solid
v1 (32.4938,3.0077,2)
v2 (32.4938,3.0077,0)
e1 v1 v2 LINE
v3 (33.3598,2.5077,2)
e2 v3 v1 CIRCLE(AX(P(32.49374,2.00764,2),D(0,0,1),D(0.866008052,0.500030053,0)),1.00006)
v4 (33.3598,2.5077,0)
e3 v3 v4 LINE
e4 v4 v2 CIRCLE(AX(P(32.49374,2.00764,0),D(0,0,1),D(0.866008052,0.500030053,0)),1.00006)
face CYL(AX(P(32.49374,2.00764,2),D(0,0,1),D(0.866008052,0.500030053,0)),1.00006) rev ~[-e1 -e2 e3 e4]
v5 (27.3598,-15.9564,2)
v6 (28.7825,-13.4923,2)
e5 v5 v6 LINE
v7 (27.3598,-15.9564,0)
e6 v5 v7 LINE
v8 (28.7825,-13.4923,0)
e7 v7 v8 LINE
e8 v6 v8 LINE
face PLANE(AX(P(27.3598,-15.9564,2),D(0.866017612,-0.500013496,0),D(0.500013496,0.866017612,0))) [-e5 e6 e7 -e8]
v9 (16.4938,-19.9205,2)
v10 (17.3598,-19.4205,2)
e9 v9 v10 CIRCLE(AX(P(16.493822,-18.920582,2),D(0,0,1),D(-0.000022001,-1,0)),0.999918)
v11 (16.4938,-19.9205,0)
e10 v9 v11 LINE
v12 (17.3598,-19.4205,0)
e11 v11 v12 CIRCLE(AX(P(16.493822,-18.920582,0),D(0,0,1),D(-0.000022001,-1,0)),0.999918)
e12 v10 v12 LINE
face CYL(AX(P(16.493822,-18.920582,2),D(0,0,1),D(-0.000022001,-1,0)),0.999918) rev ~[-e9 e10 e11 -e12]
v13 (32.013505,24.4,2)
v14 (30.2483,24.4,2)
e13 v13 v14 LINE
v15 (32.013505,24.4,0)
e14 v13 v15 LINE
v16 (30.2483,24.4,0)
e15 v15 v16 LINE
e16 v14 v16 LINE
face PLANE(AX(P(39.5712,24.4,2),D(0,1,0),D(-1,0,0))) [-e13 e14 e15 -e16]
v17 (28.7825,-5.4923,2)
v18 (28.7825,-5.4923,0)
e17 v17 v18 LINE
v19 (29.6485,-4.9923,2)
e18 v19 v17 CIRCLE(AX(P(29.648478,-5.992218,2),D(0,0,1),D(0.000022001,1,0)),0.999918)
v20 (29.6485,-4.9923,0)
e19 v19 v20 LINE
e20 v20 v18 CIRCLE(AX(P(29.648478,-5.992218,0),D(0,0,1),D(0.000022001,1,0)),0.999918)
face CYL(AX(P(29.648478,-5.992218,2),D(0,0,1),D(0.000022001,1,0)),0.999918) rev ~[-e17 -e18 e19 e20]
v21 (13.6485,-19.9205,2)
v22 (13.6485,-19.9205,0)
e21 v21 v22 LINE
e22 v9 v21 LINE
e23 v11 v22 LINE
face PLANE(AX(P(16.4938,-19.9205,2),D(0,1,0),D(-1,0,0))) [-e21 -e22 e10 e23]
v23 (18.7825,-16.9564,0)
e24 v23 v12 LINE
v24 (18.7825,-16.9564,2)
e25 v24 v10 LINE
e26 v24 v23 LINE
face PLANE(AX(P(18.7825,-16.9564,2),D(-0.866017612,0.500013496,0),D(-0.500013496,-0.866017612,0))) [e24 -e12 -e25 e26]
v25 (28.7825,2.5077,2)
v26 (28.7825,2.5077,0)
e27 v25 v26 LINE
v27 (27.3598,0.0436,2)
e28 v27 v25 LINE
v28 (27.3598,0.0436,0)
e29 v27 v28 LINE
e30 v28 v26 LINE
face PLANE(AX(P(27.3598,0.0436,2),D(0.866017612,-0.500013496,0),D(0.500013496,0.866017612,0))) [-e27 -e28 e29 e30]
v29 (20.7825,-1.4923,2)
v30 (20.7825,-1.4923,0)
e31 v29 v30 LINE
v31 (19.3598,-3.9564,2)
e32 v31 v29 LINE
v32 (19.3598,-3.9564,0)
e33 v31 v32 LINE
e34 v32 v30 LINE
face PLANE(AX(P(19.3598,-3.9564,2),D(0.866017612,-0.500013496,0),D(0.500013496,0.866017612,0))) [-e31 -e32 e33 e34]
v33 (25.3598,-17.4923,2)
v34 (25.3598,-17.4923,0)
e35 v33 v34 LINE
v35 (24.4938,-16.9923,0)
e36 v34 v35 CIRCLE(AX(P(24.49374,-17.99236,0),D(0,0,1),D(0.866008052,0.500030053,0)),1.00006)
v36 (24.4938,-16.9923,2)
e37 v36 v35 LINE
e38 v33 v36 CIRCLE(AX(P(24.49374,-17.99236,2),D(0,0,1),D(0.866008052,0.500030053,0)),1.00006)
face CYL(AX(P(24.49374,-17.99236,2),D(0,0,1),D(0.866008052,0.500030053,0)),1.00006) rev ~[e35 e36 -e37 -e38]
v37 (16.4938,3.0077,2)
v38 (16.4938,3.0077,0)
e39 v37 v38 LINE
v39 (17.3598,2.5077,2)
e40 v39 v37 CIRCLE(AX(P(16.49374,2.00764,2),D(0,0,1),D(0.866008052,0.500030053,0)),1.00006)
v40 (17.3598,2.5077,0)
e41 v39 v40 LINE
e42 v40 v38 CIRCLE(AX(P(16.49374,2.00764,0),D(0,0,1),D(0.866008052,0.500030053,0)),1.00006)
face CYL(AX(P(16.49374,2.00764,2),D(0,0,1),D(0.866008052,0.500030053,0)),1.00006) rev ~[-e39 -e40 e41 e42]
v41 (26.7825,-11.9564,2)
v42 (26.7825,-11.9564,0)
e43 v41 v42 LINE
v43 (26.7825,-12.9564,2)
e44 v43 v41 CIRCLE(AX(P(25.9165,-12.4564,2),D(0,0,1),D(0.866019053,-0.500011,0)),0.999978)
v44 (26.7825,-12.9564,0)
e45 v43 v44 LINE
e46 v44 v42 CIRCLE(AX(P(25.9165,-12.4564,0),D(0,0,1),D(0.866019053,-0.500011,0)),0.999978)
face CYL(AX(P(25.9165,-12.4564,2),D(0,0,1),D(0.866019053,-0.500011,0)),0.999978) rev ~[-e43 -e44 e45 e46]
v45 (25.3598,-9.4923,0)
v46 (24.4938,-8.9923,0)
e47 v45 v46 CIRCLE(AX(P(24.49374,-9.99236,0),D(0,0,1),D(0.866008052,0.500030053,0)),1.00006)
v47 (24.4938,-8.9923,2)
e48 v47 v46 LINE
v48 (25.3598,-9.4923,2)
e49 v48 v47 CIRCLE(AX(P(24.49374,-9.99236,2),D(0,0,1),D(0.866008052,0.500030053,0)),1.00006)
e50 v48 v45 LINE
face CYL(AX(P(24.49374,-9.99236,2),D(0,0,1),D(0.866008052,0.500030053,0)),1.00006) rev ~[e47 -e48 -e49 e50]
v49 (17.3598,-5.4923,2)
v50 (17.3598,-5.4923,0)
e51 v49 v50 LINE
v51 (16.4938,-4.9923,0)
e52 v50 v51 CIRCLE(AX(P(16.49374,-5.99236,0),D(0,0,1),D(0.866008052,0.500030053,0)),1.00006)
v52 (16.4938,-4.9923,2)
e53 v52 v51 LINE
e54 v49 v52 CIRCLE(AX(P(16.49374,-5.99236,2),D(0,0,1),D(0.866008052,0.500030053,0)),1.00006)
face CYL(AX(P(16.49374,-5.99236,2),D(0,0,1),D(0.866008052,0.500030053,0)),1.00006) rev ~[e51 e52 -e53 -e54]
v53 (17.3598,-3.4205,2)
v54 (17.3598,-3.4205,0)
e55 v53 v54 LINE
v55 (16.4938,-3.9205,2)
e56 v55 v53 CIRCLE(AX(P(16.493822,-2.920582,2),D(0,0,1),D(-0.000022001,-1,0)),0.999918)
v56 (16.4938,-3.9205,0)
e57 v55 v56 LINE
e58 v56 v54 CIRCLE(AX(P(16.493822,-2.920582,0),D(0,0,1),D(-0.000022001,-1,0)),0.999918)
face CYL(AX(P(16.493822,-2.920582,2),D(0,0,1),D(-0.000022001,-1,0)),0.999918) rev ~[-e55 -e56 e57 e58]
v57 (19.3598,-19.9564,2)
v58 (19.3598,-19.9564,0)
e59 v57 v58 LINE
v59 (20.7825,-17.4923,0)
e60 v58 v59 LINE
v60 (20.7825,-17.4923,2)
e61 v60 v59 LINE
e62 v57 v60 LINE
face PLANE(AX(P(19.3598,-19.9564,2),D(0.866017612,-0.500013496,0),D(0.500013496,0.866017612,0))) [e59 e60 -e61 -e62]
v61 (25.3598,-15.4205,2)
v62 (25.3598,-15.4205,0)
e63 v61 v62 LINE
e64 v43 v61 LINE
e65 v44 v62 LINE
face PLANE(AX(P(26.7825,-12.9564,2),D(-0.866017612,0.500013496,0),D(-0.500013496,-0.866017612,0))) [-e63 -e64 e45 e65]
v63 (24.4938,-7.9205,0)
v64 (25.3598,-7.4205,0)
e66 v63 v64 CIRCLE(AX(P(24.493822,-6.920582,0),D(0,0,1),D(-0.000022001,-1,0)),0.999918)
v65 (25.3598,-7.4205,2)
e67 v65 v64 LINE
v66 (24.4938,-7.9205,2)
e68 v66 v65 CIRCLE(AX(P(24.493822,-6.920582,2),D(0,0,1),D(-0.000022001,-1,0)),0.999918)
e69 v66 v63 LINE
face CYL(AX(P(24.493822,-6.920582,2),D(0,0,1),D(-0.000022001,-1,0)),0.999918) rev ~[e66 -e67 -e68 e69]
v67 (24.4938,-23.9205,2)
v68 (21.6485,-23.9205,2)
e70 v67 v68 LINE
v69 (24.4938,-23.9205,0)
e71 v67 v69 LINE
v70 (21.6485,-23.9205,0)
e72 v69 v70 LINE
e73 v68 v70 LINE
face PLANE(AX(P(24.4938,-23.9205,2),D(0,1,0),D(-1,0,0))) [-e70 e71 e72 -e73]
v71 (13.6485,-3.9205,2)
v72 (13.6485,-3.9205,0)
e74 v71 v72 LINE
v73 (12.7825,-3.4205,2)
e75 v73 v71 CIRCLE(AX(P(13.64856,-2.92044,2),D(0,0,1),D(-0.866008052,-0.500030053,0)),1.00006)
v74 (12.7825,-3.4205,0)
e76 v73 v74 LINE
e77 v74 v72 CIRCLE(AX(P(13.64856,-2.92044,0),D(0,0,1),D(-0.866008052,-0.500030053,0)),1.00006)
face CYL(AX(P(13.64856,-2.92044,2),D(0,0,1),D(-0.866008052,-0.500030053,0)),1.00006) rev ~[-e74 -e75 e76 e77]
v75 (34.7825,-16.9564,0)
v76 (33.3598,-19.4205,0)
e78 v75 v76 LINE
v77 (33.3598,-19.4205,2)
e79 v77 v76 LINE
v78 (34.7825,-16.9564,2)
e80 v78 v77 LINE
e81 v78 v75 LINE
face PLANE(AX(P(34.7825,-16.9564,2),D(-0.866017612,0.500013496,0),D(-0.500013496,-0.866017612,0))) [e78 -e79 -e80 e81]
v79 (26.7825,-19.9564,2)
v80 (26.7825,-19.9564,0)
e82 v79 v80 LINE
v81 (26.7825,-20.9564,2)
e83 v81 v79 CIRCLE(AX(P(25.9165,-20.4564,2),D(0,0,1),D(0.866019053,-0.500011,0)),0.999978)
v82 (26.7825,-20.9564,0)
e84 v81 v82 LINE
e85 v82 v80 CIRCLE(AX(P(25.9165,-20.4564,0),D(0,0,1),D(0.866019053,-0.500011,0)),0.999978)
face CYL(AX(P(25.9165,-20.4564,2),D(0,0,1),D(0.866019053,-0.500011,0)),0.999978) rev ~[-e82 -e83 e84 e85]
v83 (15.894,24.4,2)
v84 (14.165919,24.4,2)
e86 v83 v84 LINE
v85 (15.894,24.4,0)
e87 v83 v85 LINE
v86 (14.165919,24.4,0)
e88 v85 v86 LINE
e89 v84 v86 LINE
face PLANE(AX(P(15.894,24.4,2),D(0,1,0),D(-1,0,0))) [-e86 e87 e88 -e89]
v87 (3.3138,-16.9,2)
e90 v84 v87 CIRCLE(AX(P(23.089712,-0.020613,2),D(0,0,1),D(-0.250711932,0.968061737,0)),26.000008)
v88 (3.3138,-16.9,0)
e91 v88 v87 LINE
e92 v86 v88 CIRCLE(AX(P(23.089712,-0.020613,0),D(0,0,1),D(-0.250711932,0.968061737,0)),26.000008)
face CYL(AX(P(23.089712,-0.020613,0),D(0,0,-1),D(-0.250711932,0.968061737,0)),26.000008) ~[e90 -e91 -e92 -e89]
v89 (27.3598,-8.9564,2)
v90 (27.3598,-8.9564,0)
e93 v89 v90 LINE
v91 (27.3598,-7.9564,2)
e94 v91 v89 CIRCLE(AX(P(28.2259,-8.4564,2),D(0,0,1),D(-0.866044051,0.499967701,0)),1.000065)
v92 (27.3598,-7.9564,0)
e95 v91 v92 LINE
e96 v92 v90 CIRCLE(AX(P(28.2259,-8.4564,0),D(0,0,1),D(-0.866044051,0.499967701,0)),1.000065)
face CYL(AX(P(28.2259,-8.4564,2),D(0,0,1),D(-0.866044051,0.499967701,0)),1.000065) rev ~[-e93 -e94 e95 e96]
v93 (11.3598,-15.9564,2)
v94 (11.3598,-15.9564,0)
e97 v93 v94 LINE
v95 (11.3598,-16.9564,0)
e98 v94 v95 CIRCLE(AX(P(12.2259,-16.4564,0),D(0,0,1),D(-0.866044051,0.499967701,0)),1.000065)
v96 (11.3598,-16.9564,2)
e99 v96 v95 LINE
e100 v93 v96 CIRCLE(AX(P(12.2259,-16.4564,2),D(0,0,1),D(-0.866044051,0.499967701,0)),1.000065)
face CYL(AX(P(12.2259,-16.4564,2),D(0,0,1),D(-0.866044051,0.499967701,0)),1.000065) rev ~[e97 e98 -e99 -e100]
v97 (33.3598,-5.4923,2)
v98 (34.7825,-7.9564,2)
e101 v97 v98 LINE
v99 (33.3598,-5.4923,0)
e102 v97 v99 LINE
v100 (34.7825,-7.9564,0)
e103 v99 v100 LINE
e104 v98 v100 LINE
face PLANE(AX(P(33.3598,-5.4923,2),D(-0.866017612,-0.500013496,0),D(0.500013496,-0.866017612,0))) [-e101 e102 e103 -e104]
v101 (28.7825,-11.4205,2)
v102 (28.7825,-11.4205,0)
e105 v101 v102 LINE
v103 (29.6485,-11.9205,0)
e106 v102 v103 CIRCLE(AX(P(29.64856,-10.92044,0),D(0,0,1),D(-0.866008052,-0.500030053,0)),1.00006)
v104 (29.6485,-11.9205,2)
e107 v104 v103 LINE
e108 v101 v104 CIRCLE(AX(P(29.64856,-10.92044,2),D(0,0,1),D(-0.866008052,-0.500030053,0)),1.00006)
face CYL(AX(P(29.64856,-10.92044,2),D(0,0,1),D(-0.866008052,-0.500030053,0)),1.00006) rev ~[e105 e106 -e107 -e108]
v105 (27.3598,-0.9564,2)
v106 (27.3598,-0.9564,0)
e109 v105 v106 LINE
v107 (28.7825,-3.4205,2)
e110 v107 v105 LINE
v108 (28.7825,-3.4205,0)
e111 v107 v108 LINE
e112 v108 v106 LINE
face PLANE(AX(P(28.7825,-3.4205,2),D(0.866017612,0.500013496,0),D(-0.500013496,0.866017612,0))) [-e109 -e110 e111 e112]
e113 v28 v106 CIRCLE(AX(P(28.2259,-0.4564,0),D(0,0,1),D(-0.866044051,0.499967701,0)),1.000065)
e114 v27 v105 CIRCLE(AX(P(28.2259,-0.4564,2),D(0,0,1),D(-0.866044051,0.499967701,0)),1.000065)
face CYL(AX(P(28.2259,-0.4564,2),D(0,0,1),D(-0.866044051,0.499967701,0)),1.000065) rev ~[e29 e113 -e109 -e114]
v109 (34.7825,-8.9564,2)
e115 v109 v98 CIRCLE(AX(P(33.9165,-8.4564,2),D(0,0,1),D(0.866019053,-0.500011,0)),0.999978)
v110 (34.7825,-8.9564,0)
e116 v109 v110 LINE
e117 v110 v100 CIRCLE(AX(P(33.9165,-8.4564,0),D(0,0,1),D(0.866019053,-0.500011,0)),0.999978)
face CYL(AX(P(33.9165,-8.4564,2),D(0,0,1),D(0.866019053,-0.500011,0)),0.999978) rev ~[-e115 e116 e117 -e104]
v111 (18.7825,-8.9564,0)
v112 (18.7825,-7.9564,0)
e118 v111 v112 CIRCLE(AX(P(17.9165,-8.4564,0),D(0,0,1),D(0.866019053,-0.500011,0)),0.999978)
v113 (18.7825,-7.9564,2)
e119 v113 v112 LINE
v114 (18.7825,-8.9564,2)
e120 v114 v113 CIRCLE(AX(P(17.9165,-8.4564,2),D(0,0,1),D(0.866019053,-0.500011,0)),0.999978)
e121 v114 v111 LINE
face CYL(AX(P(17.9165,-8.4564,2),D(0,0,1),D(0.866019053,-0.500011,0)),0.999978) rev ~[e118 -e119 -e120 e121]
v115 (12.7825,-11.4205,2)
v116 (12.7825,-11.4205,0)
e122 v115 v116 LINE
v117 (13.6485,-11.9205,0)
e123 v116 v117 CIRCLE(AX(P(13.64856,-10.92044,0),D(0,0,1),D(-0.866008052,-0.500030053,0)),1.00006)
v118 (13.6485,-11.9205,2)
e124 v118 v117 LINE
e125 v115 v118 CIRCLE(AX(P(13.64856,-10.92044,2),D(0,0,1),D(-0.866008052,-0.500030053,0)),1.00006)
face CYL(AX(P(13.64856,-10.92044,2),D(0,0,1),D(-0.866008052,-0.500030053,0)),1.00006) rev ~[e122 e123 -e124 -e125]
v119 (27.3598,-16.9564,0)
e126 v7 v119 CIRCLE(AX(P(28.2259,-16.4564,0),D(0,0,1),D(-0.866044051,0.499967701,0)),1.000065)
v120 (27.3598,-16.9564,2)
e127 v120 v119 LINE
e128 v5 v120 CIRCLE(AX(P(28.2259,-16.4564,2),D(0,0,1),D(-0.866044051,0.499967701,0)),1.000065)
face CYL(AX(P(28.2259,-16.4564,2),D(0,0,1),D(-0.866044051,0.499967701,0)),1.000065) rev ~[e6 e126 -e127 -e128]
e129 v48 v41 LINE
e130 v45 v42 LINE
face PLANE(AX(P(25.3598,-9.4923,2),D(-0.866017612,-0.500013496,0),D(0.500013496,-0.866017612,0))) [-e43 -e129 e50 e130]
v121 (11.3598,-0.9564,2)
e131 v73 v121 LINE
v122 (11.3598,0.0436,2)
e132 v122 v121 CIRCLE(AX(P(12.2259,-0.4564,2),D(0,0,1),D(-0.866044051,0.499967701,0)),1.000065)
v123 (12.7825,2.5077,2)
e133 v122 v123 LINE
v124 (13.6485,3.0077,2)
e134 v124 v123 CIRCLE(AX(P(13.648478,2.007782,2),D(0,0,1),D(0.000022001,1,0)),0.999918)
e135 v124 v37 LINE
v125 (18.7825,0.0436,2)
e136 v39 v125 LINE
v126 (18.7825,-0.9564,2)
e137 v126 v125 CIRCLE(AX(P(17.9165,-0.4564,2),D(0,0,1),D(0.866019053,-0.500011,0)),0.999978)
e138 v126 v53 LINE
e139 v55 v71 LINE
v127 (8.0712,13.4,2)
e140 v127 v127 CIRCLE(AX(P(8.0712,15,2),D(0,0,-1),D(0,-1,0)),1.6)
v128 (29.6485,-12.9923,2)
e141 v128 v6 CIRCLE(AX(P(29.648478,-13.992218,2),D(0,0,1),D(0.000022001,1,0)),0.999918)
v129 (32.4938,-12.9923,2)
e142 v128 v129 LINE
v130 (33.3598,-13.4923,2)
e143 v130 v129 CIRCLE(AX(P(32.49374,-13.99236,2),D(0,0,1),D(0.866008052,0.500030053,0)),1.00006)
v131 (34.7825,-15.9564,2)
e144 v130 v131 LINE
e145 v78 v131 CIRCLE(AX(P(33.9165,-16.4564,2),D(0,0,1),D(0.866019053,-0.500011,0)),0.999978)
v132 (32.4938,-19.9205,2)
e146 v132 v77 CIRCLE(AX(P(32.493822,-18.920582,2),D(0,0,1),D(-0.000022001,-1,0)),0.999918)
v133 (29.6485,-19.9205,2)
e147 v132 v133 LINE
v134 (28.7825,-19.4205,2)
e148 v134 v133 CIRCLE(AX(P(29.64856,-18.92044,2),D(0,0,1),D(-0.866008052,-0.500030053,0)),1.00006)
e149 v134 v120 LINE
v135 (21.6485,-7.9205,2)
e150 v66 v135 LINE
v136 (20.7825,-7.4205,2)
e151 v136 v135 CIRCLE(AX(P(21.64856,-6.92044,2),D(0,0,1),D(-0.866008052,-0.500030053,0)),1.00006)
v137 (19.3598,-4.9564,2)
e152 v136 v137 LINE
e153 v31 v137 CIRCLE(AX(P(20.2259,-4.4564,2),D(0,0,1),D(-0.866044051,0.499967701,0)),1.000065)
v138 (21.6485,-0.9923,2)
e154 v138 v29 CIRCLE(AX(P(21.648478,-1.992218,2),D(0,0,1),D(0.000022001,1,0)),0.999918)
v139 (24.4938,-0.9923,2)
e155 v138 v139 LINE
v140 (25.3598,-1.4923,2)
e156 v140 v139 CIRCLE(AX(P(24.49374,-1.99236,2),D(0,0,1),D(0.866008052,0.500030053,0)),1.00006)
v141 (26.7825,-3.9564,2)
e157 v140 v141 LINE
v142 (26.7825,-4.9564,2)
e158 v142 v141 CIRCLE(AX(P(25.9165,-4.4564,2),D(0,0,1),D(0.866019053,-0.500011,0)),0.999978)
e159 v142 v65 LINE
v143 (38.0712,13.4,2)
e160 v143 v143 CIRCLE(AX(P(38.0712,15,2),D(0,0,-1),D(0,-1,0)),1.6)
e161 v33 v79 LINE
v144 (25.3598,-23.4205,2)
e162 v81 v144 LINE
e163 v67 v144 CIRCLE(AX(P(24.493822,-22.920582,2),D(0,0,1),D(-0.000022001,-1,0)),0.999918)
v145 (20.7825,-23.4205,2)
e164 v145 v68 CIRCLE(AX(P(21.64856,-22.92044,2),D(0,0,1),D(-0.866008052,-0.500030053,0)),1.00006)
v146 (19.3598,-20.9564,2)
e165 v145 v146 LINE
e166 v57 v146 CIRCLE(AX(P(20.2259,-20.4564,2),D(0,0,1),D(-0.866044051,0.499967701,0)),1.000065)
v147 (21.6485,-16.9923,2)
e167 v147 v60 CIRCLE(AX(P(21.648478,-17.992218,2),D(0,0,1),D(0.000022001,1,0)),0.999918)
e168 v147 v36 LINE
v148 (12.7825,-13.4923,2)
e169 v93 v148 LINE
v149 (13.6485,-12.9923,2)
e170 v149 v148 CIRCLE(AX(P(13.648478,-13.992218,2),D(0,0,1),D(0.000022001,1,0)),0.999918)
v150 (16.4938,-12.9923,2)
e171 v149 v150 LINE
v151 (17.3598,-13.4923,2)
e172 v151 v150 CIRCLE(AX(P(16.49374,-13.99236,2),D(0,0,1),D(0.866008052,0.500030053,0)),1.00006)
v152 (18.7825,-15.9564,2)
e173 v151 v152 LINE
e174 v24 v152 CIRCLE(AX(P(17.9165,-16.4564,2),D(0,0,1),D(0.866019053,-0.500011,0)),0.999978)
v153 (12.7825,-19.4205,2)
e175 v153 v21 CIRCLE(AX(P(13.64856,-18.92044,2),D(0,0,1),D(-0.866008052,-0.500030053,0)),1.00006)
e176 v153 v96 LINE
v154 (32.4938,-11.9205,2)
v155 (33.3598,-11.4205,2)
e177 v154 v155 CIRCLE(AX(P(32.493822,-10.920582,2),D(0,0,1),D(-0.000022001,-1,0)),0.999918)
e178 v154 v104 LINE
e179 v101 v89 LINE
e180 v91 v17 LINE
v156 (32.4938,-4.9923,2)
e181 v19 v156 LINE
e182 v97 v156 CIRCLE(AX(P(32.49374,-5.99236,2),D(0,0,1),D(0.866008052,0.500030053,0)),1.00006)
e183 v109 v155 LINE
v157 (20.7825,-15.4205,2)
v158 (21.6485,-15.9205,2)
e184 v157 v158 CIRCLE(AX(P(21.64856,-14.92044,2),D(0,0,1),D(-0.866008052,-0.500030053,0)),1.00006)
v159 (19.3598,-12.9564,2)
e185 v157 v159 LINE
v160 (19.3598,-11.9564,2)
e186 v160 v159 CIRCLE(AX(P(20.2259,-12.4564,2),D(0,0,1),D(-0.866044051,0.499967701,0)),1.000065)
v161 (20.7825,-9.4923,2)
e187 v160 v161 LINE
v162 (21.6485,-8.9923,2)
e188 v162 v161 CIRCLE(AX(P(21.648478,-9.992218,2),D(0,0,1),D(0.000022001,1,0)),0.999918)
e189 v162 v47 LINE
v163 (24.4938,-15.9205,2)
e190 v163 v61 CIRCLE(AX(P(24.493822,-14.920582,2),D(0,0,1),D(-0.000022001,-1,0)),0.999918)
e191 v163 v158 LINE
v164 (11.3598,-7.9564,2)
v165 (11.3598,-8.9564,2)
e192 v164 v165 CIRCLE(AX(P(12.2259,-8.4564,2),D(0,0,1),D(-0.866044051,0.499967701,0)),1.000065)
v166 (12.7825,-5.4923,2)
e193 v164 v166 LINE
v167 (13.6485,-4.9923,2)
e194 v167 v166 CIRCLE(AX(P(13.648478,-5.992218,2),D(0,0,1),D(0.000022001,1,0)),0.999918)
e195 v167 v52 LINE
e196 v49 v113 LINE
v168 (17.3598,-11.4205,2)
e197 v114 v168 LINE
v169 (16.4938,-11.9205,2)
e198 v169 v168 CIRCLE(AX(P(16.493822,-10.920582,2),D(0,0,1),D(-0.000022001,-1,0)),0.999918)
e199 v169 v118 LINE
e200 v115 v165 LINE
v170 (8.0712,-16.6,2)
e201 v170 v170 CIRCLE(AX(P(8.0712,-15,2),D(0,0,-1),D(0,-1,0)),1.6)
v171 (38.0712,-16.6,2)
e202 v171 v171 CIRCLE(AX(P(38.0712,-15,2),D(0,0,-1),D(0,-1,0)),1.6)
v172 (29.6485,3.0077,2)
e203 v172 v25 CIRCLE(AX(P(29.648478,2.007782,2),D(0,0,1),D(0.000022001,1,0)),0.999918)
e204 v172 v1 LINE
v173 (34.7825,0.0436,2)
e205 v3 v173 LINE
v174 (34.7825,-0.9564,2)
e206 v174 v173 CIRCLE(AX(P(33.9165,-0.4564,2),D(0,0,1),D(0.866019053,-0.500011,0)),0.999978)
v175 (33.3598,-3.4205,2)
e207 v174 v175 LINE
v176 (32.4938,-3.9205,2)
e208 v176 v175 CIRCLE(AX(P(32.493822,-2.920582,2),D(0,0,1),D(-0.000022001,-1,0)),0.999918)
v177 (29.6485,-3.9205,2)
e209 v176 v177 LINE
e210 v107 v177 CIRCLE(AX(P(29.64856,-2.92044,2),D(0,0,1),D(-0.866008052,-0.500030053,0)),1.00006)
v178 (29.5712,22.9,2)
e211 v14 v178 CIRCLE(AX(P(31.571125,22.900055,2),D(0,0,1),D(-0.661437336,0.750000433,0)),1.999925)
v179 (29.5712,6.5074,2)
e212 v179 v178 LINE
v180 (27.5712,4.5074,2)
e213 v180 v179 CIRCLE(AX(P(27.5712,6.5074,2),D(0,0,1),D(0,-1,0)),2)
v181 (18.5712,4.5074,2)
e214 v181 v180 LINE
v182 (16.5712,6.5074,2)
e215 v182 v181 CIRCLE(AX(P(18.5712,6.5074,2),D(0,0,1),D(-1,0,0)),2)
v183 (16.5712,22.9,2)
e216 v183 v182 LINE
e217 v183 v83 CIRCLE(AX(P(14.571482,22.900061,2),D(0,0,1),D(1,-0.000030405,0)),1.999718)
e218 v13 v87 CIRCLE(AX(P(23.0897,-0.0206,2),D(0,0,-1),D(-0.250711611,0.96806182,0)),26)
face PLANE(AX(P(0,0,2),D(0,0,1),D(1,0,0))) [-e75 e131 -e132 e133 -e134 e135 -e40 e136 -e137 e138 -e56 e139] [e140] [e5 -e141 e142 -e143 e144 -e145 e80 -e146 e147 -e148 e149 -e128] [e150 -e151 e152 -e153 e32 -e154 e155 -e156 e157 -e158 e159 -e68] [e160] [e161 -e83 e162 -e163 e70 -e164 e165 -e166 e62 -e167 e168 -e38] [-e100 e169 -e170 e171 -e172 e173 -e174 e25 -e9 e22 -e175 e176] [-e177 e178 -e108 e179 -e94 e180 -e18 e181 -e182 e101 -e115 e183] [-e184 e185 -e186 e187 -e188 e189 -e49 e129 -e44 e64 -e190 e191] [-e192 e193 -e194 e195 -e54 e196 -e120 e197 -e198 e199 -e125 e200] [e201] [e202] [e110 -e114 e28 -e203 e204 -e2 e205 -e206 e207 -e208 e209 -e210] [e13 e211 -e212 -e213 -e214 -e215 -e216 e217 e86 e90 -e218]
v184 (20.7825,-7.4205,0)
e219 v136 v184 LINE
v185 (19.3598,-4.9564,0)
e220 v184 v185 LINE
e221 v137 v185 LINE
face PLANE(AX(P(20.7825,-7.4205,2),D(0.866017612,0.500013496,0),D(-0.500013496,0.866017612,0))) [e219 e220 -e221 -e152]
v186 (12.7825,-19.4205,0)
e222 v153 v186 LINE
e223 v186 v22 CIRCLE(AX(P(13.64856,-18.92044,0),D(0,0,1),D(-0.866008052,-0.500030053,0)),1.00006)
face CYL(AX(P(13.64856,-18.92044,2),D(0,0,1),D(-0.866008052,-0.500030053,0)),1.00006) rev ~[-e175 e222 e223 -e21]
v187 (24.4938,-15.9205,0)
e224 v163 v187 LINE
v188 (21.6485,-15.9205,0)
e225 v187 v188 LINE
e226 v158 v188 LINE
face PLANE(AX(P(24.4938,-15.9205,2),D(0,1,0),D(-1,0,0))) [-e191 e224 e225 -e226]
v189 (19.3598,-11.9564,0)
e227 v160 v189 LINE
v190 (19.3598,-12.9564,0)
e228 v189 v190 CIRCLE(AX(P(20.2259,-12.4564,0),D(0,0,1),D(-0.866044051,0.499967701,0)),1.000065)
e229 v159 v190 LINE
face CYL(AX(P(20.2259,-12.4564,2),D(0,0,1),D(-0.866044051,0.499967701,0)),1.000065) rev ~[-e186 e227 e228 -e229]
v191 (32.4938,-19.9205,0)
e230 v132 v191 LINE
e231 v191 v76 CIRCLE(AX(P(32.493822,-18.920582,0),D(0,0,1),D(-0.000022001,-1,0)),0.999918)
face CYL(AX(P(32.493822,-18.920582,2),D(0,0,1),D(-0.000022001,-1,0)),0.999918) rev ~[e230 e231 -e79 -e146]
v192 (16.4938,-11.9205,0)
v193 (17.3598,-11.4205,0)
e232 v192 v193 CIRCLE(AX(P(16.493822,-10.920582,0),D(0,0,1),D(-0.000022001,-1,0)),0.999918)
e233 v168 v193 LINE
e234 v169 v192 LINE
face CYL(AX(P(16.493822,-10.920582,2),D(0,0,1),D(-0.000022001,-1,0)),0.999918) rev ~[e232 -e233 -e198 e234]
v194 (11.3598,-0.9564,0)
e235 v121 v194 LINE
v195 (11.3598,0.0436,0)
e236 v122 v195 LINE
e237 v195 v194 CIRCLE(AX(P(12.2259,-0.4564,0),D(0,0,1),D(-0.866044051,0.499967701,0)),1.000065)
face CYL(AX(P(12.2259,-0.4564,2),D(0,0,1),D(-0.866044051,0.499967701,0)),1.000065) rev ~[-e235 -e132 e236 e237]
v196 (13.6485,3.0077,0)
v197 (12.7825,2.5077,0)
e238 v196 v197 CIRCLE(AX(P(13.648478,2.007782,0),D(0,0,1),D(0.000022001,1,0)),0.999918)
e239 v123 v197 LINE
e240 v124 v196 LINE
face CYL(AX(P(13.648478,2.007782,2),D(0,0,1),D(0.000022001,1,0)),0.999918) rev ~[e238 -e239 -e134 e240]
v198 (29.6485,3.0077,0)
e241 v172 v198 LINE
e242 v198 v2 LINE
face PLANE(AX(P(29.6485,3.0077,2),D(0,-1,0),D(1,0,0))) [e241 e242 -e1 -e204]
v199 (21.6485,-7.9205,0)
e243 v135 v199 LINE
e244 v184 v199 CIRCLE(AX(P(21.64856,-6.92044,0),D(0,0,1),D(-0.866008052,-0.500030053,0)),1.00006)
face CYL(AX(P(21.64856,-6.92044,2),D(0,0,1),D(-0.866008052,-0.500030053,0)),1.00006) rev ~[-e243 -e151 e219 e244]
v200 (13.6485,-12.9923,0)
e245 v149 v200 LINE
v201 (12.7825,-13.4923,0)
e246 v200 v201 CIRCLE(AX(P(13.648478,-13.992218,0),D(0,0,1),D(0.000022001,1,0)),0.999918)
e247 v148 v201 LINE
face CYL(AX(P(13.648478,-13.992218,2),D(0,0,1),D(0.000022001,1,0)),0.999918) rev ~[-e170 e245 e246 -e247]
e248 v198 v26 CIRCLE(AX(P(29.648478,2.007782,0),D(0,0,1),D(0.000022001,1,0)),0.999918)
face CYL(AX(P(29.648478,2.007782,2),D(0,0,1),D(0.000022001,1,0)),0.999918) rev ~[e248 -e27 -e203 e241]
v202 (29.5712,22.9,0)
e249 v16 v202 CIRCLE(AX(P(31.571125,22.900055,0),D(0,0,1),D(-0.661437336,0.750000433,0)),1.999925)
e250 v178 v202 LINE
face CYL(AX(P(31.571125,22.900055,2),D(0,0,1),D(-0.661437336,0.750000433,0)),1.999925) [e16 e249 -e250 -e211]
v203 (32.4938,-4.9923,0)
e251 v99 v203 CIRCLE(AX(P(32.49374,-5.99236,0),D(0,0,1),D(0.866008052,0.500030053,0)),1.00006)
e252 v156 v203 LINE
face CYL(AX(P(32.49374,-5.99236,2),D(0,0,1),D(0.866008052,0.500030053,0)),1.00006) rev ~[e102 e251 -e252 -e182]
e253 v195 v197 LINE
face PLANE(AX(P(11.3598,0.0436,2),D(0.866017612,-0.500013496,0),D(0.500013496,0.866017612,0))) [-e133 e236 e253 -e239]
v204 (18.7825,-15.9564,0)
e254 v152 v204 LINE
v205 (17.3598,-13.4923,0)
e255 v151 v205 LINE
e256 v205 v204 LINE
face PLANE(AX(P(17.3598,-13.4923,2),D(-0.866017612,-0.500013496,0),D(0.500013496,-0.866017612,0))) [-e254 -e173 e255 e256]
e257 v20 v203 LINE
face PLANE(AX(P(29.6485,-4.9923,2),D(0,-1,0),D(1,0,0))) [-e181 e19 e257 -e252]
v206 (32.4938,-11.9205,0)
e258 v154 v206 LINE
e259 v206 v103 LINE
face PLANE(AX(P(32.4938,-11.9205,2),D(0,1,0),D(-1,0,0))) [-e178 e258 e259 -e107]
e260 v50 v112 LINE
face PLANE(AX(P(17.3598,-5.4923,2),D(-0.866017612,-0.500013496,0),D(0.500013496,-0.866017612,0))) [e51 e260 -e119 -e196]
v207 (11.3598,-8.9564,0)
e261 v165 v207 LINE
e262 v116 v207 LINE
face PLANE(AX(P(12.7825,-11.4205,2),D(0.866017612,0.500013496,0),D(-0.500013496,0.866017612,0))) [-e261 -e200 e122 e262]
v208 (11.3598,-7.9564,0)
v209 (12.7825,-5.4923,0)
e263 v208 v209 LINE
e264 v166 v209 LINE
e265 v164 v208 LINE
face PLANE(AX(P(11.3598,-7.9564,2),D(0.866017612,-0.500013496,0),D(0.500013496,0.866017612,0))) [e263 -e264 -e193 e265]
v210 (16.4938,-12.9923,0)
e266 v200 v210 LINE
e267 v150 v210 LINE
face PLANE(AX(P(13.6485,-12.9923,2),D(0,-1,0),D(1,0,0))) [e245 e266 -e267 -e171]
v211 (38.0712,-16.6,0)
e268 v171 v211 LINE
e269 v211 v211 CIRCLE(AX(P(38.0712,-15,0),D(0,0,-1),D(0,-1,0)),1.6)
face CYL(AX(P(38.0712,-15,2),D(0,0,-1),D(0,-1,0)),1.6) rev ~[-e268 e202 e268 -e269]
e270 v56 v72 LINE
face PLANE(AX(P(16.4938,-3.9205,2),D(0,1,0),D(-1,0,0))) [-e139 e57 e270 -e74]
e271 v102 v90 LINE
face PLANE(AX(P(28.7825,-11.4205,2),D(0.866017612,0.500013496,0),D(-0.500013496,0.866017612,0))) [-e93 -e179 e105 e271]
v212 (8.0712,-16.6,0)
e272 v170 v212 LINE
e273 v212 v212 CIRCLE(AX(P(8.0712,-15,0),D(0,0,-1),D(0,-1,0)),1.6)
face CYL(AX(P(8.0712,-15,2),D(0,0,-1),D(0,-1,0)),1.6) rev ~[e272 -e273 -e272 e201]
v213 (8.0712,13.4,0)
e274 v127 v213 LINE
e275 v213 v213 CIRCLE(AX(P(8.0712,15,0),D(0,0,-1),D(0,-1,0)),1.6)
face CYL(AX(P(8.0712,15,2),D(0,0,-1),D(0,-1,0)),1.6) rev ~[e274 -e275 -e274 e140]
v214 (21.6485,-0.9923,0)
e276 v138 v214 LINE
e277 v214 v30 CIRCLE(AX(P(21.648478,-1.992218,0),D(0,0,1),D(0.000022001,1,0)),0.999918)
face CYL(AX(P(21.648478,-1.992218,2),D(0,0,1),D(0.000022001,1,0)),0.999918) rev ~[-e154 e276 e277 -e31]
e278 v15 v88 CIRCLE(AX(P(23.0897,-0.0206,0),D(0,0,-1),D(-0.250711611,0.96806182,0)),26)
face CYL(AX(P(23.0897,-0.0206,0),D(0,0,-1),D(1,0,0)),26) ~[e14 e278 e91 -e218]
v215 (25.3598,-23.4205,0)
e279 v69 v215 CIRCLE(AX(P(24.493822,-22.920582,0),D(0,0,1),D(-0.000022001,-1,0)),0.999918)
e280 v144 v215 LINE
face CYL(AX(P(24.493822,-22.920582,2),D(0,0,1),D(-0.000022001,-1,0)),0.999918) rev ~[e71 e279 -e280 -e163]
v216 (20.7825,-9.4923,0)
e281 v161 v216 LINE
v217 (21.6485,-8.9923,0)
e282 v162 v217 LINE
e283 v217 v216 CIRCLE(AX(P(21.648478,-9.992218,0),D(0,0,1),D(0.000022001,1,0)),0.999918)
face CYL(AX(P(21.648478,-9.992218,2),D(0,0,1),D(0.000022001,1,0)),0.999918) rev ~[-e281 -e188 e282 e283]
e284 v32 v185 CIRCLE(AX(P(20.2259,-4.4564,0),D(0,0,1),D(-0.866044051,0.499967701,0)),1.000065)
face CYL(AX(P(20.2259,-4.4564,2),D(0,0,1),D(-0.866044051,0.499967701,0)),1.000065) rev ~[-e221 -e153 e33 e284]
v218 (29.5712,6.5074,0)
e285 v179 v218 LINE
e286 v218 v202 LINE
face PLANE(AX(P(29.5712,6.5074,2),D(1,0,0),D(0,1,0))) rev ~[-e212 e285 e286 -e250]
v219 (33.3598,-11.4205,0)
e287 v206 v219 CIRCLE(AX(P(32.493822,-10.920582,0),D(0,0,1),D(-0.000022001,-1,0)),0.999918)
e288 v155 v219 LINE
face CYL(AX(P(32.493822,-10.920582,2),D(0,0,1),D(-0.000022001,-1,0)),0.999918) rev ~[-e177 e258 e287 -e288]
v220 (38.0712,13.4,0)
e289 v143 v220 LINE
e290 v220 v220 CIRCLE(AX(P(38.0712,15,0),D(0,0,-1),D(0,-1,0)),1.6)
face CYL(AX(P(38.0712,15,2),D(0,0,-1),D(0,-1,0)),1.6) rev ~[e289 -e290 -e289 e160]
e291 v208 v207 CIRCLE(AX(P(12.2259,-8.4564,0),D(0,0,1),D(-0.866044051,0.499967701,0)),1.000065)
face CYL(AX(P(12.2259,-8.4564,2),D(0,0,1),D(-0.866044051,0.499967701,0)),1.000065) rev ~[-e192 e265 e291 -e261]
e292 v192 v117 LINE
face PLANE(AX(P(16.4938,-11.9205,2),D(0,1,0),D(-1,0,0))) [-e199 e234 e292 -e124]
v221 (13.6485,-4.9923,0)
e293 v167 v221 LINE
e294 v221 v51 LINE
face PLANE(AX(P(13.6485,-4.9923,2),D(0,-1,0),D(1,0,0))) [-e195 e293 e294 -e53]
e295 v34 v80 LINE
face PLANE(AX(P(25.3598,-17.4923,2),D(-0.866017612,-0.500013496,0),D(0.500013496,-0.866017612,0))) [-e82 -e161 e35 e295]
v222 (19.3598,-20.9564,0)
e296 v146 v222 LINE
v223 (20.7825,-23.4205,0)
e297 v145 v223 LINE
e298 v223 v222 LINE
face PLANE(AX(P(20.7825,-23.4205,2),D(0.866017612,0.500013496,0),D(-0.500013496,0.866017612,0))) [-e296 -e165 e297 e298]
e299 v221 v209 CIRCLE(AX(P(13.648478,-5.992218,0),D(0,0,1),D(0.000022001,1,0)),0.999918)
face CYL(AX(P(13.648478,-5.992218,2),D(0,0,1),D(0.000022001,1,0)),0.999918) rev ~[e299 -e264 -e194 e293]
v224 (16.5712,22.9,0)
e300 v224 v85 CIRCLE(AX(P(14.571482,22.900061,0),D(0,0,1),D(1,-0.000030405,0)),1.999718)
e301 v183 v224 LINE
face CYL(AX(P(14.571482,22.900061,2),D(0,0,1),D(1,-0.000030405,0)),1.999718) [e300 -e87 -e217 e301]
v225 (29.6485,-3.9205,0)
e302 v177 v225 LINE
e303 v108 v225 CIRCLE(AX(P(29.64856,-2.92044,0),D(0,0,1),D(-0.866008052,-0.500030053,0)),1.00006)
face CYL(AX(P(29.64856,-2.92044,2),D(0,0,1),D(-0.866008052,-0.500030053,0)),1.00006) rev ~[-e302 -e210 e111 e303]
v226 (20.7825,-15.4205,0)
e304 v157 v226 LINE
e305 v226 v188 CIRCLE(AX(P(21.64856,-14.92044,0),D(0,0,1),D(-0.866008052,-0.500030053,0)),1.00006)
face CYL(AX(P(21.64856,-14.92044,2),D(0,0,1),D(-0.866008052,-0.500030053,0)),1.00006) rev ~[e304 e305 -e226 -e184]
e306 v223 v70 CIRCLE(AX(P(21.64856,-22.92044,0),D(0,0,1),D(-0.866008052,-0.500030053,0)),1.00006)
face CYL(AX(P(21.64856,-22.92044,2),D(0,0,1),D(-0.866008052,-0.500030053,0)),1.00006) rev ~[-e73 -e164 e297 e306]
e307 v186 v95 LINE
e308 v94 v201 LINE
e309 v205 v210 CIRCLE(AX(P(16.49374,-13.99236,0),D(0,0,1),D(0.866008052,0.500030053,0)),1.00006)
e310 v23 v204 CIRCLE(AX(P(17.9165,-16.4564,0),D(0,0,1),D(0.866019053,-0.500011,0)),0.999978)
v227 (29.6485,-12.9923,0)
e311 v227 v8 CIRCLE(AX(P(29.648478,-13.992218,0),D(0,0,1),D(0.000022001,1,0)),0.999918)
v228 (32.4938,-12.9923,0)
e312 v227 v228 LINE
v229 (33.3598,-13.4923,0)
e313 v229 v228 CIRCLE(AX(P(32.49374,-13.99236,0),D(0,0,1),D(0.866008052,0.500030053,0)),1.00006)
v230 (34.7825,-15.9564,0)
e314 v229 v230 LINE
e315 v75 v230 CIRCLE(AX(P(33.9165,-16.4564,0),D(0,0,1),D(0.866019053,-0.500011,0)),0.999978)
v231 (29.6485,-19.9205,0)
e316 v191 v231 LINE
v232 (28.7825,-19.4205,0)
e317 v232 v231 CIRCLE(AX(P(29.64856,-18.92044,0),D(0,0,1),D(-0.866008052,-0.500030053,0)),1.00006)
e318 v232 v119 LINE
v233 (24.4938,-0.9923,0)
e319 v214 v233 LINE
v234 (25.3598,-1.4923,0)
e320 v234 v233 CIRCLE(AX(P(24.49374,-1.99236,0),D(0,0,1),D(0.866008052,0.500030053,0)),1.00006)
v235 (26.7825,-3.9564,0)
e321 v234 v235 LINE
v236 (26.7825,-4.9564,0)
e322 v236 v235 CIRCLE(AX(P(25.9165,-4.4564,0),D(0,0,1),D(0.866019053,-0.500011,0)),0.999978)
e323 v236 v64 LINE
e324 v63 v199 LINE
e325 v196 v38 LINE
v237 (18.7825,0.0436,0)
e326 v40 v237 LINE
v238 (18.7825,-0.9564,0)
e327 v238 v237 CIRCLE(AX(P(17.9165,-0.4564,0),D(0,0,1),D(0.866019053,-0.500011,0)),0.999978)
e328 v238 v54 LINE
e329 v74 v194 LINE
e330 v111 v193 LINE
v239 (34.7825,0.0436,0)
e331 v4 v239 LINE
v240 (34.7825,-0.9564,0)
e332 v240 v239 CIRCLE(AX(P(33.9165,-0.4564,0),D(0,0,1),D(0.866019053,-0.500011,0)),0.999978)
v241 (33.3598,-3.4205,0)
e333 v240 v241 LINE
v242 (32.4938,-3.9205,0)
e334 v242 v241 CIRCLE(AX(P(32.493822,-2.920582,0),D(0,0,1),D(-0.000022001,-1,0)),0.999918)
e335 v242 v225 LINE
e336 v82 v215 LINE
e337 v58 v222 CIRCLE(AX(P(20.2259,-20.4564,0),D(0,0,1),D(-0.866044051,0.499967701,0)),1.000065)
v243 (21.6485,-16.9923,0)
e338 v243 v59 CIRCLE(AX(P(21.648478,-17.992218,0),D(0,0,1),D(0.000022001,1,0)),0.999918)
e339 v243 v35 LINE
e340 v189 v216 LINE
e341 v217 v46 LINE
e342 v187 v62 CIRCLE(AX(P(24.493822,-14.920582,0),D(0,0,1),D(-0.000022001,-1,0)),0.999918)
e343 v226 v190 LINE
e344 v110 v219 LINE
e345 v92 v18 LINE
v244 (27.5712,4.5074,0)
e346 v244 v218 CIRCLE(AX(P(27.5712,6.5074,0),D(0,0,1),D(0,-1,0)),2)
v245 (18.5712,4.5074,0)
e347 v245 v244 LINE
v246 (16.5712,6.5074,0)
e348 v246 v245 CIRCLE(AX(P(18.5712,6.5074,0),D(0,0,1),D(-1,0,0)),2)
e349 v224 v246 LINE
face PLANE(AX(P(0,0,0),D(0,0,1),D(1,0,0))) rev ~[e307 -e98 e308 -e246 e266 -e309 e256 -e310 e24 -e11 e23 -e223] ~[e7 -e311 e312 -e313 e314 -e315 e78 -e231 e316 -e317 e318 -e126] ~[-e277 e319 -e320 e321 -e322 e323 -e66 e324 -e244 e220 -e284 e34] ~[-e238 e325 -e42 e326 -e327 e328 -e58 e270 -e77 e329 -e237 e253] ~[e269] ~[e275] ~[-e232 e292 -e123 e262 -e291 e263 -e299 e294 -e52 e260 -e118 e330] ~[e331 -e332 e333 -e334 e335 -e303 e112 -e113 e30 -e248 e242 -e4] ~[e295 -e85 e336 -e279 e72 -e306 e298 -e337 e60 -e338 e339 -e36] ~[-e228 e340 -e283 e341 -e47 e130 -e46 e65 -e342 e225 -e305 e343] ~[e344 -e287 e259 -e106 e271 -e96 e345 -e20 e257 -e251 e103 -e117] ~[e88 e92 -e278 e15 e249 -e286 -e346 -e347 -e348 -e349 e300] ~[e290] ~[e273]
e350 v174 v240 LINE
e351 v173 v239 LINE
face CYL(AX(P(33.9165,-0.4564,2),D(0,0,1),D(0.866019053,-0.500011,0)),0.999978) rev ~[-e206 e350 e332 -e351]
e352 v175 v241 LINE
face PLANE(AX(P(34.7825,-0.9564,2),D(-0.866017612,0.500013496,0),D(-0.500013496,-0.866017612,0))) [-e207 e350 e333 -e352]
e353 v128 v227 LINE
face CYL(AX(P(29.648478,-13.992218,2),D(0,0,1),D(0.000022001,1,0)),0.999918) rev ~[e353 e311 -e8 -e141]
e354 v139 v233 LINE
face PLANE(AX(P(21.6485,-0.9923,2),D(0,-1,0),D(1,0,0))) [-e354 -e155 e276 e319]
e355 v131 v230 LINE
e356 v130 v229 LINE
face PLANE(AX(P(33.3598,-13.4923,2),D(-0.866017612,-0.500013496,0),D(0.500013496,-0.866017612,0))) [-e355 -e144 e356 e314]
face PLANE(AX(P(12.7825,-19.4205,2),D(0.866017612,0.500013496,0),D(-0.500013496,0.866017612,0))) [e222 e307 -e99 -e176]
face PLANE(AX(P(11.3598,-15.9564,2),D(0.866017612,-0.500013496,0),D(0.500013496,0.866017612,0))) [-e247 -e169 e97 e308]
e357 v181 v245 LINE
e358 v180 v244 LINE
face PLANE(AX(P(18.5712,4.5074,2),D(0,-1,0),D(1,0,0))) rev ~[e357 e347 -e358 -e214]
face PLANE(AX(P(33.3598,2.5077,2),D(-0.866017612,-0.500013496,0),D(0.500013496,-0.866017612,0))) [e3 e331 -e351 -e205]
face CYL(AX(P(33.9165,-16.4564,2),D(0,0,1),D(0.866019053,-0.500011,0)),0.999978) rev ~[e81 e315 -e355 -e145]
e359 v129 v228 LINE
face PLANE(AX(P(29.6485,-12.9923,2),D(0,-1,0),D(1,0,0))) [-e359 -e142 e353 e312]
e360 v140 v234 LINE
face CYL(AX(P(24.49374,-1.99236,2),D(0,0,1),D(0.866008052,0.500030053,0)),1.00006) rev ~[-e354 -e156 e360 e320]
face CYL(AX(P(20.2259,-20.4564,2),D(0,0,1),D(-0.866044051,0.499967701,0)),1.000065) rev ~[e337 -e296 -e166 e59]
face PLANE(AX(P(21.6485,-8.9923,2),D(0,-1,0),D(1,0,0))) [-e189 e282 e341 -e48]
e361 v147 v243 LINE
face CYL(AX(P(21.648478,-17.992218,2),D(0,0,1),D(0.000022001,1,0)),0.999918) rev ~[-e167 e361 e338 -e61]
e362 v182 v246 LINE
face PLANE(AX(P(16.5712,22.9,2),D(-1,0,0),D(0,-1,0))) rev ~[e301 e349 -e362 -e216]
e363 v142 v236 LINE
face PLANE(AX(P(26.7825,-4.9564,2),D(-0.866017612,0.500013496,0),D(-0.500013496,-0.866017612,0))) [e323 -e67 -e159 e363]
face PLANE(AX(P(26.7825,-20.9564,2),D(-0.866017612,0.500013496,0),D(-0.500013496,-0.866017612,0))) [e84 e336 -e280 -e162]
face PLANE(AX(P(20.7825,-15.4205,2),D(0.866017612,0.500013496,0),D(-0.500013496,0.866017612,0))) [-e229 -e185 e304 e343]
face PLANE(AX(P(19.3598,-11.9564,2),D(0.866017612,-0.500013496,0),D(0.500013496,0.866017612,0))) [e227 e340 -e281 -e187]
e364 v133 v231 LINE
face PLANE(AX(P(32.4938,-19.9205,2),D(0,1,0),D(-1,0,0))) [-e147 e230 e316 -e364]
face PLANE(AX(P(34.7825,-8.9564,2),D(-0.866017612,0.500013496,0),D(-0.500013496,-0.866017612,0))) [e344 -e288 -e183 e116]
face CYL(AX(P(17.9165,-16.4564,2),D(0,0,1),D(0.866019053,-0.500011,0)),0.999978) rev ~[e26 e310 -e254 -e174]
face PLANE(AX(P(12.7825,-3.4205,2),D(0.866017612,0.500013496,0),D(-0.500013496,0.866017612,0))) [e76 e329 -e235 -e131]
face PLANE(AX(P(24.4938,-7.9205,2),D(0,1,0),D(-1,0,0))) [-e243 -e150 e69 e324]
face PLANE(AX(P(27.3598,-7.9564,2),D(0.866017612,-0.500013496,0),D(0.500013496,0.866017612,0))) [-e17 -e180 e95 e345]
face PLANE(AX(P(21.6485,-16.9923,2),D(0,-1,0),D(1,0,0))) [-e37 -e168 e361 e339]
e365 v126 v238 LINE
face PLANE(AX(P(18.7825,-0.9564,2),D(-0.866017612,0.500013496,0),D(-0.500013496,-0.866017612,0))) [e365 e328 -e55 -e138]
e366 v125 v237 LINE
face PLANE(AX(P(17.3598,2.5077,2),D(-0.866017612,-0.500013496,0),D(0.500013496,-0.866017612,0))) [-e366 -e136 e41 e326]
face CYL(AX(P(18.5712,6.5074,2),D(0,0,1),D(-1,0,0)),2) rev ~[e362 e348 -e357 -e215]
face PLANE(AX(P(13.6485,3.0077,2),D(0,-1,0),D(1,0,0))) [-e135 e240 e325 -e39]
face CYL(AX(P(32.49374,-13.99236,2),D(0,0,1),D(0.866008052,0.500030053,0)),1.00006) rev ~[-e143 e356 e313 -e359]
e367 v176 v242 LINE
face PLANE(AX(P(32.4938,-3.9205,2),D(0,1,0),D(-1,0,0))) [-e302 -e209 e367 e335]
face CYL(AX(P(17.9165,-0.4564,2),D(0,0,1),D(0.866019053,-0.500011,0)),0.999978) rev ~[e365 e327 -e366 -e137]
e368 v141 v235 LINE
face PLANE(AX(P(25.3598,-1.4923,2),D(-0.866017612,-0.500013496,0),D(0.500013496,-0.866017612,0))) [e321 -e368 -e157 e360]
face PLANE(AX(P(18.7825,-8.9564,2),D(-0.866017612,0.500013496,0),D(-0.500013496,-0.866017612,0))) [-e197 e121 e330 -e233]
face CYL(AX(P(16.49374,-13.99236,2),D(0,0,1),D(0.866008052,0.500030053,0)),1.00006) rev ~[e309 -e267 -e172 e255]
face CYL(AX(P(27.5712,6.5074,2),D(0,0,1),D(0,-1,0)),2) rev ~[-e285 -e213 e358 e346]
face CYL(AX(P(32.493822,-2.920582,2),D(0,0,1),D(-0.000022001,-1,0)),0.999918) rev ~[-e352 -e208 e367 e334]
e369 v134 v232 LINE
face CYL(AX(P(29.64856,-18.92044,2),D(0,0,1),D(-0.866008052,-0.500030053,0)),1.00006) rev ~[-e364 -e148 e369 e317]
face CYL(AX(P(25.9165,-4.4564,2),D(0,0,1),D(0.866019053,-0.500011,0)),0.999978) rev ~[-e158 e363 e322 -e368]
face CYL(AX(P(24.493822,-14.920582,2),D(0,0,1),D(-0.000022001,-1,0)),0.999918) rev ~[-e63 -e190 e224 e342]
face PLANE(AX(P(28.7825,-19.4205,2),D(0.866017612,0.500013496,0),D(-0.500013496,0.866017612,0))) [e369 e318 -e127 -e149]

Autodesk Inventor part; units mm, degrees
ref_plane "YZ Plane" through (0, 0, 0) normal (1, 0, 0) x (0, 1, 0)
ref_plane "XZ Plane" through (0, 0, 0) normal (0, 1, 0) x (-1, 0, 0)
ref_plane "XY Plane" through (0, 0, 0) normal (0, 0, 1) x (1, 0, 0)
ref_plane "Arbeitsebene1" through (0, 0, 0) normal (0, 0, 1) x (1, 0, 0)
sketch "Skizze1" plane through (0, 0, 0) normal (0, 0, 1) x (1, 0, 0)
  line L0 (8.0712, 15) -> (38.0712, 15)
  line L1 (38.0712, 15) -> (38.0712, -15)
  line L2 (38.0712, -15) -> (8.0712, -15)
  line L3 (8.0712, -15) -> (8.0712, 15)
  line L4 (38.0712, 19) -> (8.0712, 19)
  line L5 (4.0712, 15) -> (4.0712, -15)
  line L6 (8.0712, -19) -> (38.0712, -19)
  line L7 (42.0712, -15) -> (42.0712, 15)
  arc A0 (8.0712, 19) -> (4.0712, 15) centre (8.0712, 15) ccw
  arc A1 (42.0712, 15) -> (38.0712, 19) centre (38.0712, 15) ccw
  arc A2 (38.0712, -19) -> (42.0712, -15) centre (38.0712, -15) ccw
  arc A3 (4.0712, -15) -> (8.0712, -19) centre (8.0712, -15) ccw
  line L8 (29.9712, -18.3074) -> (29.9712, -24.4) projected
  circle A4 centre (38.0712, -15) radius 1.4 projected
  circle A5 centre (38.0712, 15) radius 1.4 projected
  line L9 (39.5712, -24.4) -> (29.9712, -24.4) projected
  line L10 (39.5712, -21.1181) -> (39.5712, -24.4) projected
  line L11 (44.1893, -16.5) -> (39.5712, -21.1181) projected
  line L12 (47.4712, -16.5) -> (44.1893, -16.5) projected
  line L13 (47.4712, 16.5) -> (47.4712, -16.5) projected
  line L14 (44.1893, 16.5) -> (47.4712, 16.5) projected
  line L15 (39.5712, 21.1181) -> (44.1893, 16.5) projected
  line L16 (39.5712, 24.4) -> (39.5712, 21.1181) projected
  line L17 (31.5712, 24.4) -> (39.5712, 24.4) projected
  line L18 (31.5712, 4.0068) -> (31.5712, 24.4) projected
  arc A6 (32.7786, 1.7) -> (31.5712, 4.0068) centre (29.9712, 1.7) ccw projected
  line L19 (32.7786, 1.7) -> (32.7786, -15.5) projected
  arc A7 (29.9712, -18.3074) -> (32.7786, -15.5) centre (29.9712, -15.5) ccw projected
  arc A8 (16.5712, 25.149) -> (3.3138, -16.9) centre (23.0897, -0.0206) ccw
  circle A9 centre (23.0897, -0.0206) radius 26
  point P0 (0, 0)
  point P1 (36.5793, -24.4)
  point P2 (31.5712, 11.3758)
  point P3 (3.3138, -16.9)
  dimension "d0" = 4
  dimension "d1" = 4
extrude "Extrusion1" add sketch "Skizze1" along normal blind 2 contours L3 L2 L19 A7 L8 L6 A3 L5 A0 L4 L18 L0 | L0 L18 A6 L19 L2 L3 | L18 L4 A1 L7 A2 L6 L8 A7 L19 L2 A4 L1 A5 L0 | L0 A5 L1 A4 L2 L19 A6 L18 | A5 L1 L0 | L0 L1 A5 | L18 L17 A9 L13 L9 L8 L6 A2 L7 A1 L4 | L4 A0 L5 A3 L6 L8 L9 A9 A8 L17 L18 | A4 L1 L2 | L2 L1 A4 | A9 L13
ref_plane "Arbeitsebene2" through (0, 0, 0) normal (0, 0, 1) x (1, 0, 0)
sketch "Skizze2" plane through (0, 0, 2) normal (0, 0, 1) x (1, 0, 0)
  arc A0 (8.0712, 19) -> (4.0712, 15) centre (8.0712, 15) ccw projected
  line L0 (4.0712, 15) -> (4.0712, -15) projected
  arc A1 (4.0712, -15) -> (8.0712, -19) centre (8.0712, -15) ccw projected
  line L1 (8.0712, -19) -> (38.0712, -19) projected
  arc A2 (38.0712, -19) -> (42.0712, -15) centre (38.0712, -15) ccw projected
  line L2 (42.0712, -15) -> (42.0712, 15) projected
  arc A3 (42.0712, 15) -> (38.0712, 19) centre (38.0712, 15) ccw projected
  line L3 (38.0712, 19) -> (8.0712, 19) projected
  circle A4 centre (8.0712, 15) radius 1.4 projected
  circle A5 centre (38.0712, 15) radius 1.4 projected
  circle A6 centre (38.0712, -15) radius 1.4 projected
  circle A7 centre (8.0712, -15) radius 1.4 projected
  point P0 (0, 0)
hole "Bohrung1" at (8.0712, 15, 2) at (8.0712, -15, 2) at (38.0712, -15, 2) at (38.0712, 15, 2) direction (0, 0, -1) diameter 3.2 end through all
sketch "Skizze3" plane through (0, 0, 2) normal (0, 0, 1) x (1, 0, 0)
  circle A0 centre (23.0919, -0.0207) radius 4.25 projected
  arc A1 (30.2483, 24.4) -> (29.5712, 22.9) centre (31.5712, 22.9) ccw projected
  line L0 (39.5712, 24.4) -> (30.2483, 24.4) projected
  line L1 (39.5712, 21.1181) -> (39.5712, 24.4) projected
  line L2 (44.1893, 16.5) -> (39.5712, 21.1181) projected
  line L3 (47.4712, 16.5) -> (44.1893, 16.5) projected
  line L4 (47.4712, -16.5) -> (47.4712, 16.5) projected
  line L5 (44.1893, -16.5) -> (47.4712, -16.5) projected
  line L6 (39.5712, -21.1181) -> (44.1893, -16.5) projected
  line L7 (39.5712, -24.4) -> (39.5712, -21.1181) projected
  line L8 (6.6126, -24.4) -> (39.5712, -24.4) projected
  line L9 (6.6126, -21.1595) -> (6.6126, -24.4) projected
  line L10 (1.9531, -16.5) -> (6.6126, -21.1595) projected
  line L11 (-1.3288, -16.5) -> (1.9531, -16.5) projected
  line L12 (-1.3288, 16.5) -> (-1.3288, -16.5) projected
  line L13 (1.9531, 16.5) -> (-1.3288, 16.5) projected
  line L14 (6.5712, 21.1181) -> (1.9531, 16.5) projected
  line L15 (6.5712, 24.4) -> (6.5712, 21.1181) projected
  line L16 (15.894, 24.4) -> (6.5712, 24.4) projected
  arc A2 (16.5712, 22.9) -> (15.894, 24.4) centre (14.5712, 22.9) ccw projected
  line L17 (16.5712, 22.9) -> (16.5712, 6.5074) projected
  arc A3 (16.5712, 6.5074) -> (18.5712, 4.5074) centre (18.5712, 6.5074) ccw projected
  line L18 (18.5712, 4.5074) -> (27.5712, 4.5074) projected
  arc A4 (27.5712, 4.5074) -> (29.5712, 6.5074) centre (27.5712, 6.5074) ccw projected
  line L19 (29.5712, 6.5074) -> (29.5712, 22.9) projected
  circle A5 centre (38.0712, 15) radius 1.4 projected
  circle A6 centre (8.0712, -15) radius 1.4 projected
  circle A7 centre (38.0712, -15) radius 1.4 projected
  circle A8 centre (8.0712, 15) radius 1.4 projected
  line L20 (15.894, 24.4) -> (30.2483, 24.4)
  line L21 (6.5712, 24.4) -> (39.5712, 24.4)
  line L22 (39.5712, 24.4) -> (39.5712, 27.6612)
  line L23 (39.5712, 27.6612) -> (6.5712, 27.6612)
  line L24 (6.5712, 27.6612) -> (6.5712, 24.4)
  point P0 (0, 0)
extrude "Extrusion2" cut sketch "Skizze3" against normal blind 10 contours L20 L16 L24 L23 L22 L0 | A1 L19 A4 L18 A3 L17 A2 L20
fillet "Rundung1" [suppressed]
sketch "Skizze4" plane through (0, 0, 2) normal (0, 0, 1) x (1, 0, 0)
  line L0 (32.0136, 24.4) -> (30.2483, 24.4) projected
  arc A0 (30.2483, 24.4) -> (29.5712, 22.9) centre (31.5712, 22.9) ccw projected
  line L1 (29.5712, 22.9) -> (29.5712, 6.5074) projected
  arc A1 (27.5712, 4.5074) -> (29.5712, 6.5074) centre (27.5712, 6.5074) ccw projected
  line L2 (27.5712, 4.5074) -> (18.5712, 4.5074) projected
  arc A2 (16.5712, 6.5074) -> (18.5712, 4.5074) centre (18.5712, 6.5074) ccw projected
  line L3 (16.5712, 6.5074) -> (16.5712, 22.9) projected
  arc A3 (16.5712, 22.9) -> (15.894, 24.4) centre (14.5712, 22.9) ccw projected
  line L4 (15.894, 24.4) -> (14.1659, 24.4) projected
  arc A4 (14.1659, 24.4) -> (32.0136, 24.4) centre (23.0897, -0.0206) ccw projected
  circle A5 centre (38.0712, 15) radius 1.6 projected
  circle A6 centre (8.0712, -15) radius 1.6 projected
  circle A7 centre (8.0712, 15) radius 1.6 projected
  circle A8 centre (38.0712, -15) radius 1.6 projected
  line L5 (19.3598, -3.9564) -> (20.7825, -1.4923)
  line L6 (21.6485, -0.9923) -> (24.4938, -0.9923)
  line L7 (25.3598, -1.4923) -> (26.7825, -3.9564)
  line L8 (26.7825, -4.9564) -> (25.3598, -7.4205)
  line L9 (24.4938, -7.9205) -> (21.6485, -7.9205)
  line L10 (20.7825, -7.4205) -> (19.3598, -4.9564)
  line L11 (27.5712, 4.5074) -> (18.5712, 4.5074) projected
  arc A9 (26.7825, -4.9564) -> (26.7825, -3.9564) centre (25.9165, -4.4564) ccw
  arc A10 (24.4938, -7.9205) -> (25.3598, -7.4205) centre (24.4938, -6.9205) ccw
  arc A11 (20.7825, -7.4205) -> (21.6485, -7.9205) centre (21.6485, -6.9205) ccw
  arc A12 (19.3598, -3.9564) -> (19.3598, -4.9564) centre (20.2259, -4.4564) ccw
  arc A13 (21.6485, -0.9923) -> (20.7825, -1.4923) centre (21.6485, -1.9923) ccw
  arc A14 (25.3598, -1.4923) -> (24.4938, -0.9923) centre (24.4938, -1.9923) ccw
  line L12 (27.3598, 0.0436) -> (28.7825, 2.5077)
  line L13 (29.6485, 3.0077) -> (32.4938, 3.0077)
  line L14 (33.3598, 2.5077) -> (34.7825, 0.0436)
  line L15 (34.7825, -0.9564) -> (33.3598, -3.4205)
  line L16 (32.4938, -3.9205) -> (29.6485, -3.9205)
  line L17 (28.7825, -3.4205) -> (27.3598, -0.9564)
  arc A15 (34.7825, -0.9564) -> (34.7825, 0.0436) centre (33.9165, -0.4564) ccw
  arc A16 (32.4938, -3.9205) -> (33.3598, -3.4205) centre (32.4938, -2.9205) ccw
  arc A17 (28.7825, -3.4205) -> (29.6485, -3.9205) centre (29.6485, -2.9205) ccw
  arc A18 (27.3598, 0.0436) -> (27.3598, -0.9564) centre (28.2259, -0.4564) ccw
  arc A19 (29.6485, 3.0077) -> (28.7825, 2.5077) centre (29.6485, 2.0077) ccw
  arc A20 (33.3598, 2.5077) -> (32.4938, 3.0077) centre (32.4938, 2.0077) ccw
  line L18 (11.3598, 0.0436) -> (12.7825, 2.5077)
  line L19 (13.6485, 3.0077) -> (16.4938, 3.0077)
  line L20 (17.3598, 2.5077) -> (18.7825, 0.0436)
  line L21 (18.7825, -0.9564) -> (17.3598, -3.4205)
  line L22 (16.4938, -3.9205) -> (13.6485, -3.9205)
  line L23 (12.7825, -3.4205) -> (11.3598, -0.9564)
  arc A21 (18.7825, -0.9564) -> (18.7825, 0.0436) centre (17.9165, -0.4564) ccw
  arc A22 (16.4938, -3.9205) -> (17.3598, -3.4205) centre (16.4938, -2.9205) ccw
  arc A23 (12.7825, -3.4205) -> (13.6485, -3.9205) centre (13.6485, -2.9205) ccw
  arc A24 (11.3598, 0.0436) -> (11.3598, -0.9564) centre (12.2259, -0.4564) ccw
  arc A25 (13.6485, 3.0077) -> (12.7825, 2.5077) centre (13.6485, 2.0077) ccw
  arc A26 (17.3598, 2.5077) -> (16.4938, 3.0077) centre (16.4938, 2.0077) ccw
  point P0 (0, 0)
  point P1 (23.0712, -4.4564)
  point P2 (19.0712, -4.4564)
  point P3 (21.0712, -0.9923)
  point P4 (25.0712, -0.9923)
  point P5 (27.0712, -4.4564)
  point P6 (25.0712, -7.9205)
  point P7 (21.0712, -7.9205)
  point P8 (31.0712, -0.4564)
  point P9 (27.0712, -0.4564)
  point P10 (29.0712, 3.0077)
  point P11 (33.0712, 3.0077)
  point P12 (35.0712, -0.4564)
  point P13 (33.0712, -3.9205)
  point P14 (29.0712, -3.9205)
  point P15 (15.0712, -0.4564)
  point P16 (11.0712, -0.4564)
  point P17 (13.0712, 3.0077)
  point P18 (17.0712, 3.0077)
  point P19 (19.0712, -0.4564)
  point P20 (17.0712, -3.9205)
  point P21 (13.0712, -3.9205)
  dimension "d38" = 8
  dimension "d39" = 1
  dimension "d40" = 8
  dimension "d41" = 1
  dimension "d42" = 8
  dimension "d43" = 1
  dimension "d44" = 4
  dimension "d45" = 8
  dimension "d46" = 4
  dimension "d47" = 8
  dimension "d48" = 13
  dimension "d49" = 6.5
extrude "Extrusion3" cut sketch "Skizze4" against normal blind 4 contours L5 A13 L6 A14 L7 A9 L8 A10 L9 A11 L10 A12 | L12 A19 L13 A20 L14 A15 L15 A16 L16 A17 L17 A18 | L18 A25 L19 A26 L20 A21 L21 A22 L22 A23 L23 A24
pattern_linear "Rechteckige Anordnung1" count 3 spacing 8 along (0, -1, 0) of "Extrusion3"
equation "\"d27\" = d44"
properties part number "IM_Matchboxscope_base_xiao_lid"
